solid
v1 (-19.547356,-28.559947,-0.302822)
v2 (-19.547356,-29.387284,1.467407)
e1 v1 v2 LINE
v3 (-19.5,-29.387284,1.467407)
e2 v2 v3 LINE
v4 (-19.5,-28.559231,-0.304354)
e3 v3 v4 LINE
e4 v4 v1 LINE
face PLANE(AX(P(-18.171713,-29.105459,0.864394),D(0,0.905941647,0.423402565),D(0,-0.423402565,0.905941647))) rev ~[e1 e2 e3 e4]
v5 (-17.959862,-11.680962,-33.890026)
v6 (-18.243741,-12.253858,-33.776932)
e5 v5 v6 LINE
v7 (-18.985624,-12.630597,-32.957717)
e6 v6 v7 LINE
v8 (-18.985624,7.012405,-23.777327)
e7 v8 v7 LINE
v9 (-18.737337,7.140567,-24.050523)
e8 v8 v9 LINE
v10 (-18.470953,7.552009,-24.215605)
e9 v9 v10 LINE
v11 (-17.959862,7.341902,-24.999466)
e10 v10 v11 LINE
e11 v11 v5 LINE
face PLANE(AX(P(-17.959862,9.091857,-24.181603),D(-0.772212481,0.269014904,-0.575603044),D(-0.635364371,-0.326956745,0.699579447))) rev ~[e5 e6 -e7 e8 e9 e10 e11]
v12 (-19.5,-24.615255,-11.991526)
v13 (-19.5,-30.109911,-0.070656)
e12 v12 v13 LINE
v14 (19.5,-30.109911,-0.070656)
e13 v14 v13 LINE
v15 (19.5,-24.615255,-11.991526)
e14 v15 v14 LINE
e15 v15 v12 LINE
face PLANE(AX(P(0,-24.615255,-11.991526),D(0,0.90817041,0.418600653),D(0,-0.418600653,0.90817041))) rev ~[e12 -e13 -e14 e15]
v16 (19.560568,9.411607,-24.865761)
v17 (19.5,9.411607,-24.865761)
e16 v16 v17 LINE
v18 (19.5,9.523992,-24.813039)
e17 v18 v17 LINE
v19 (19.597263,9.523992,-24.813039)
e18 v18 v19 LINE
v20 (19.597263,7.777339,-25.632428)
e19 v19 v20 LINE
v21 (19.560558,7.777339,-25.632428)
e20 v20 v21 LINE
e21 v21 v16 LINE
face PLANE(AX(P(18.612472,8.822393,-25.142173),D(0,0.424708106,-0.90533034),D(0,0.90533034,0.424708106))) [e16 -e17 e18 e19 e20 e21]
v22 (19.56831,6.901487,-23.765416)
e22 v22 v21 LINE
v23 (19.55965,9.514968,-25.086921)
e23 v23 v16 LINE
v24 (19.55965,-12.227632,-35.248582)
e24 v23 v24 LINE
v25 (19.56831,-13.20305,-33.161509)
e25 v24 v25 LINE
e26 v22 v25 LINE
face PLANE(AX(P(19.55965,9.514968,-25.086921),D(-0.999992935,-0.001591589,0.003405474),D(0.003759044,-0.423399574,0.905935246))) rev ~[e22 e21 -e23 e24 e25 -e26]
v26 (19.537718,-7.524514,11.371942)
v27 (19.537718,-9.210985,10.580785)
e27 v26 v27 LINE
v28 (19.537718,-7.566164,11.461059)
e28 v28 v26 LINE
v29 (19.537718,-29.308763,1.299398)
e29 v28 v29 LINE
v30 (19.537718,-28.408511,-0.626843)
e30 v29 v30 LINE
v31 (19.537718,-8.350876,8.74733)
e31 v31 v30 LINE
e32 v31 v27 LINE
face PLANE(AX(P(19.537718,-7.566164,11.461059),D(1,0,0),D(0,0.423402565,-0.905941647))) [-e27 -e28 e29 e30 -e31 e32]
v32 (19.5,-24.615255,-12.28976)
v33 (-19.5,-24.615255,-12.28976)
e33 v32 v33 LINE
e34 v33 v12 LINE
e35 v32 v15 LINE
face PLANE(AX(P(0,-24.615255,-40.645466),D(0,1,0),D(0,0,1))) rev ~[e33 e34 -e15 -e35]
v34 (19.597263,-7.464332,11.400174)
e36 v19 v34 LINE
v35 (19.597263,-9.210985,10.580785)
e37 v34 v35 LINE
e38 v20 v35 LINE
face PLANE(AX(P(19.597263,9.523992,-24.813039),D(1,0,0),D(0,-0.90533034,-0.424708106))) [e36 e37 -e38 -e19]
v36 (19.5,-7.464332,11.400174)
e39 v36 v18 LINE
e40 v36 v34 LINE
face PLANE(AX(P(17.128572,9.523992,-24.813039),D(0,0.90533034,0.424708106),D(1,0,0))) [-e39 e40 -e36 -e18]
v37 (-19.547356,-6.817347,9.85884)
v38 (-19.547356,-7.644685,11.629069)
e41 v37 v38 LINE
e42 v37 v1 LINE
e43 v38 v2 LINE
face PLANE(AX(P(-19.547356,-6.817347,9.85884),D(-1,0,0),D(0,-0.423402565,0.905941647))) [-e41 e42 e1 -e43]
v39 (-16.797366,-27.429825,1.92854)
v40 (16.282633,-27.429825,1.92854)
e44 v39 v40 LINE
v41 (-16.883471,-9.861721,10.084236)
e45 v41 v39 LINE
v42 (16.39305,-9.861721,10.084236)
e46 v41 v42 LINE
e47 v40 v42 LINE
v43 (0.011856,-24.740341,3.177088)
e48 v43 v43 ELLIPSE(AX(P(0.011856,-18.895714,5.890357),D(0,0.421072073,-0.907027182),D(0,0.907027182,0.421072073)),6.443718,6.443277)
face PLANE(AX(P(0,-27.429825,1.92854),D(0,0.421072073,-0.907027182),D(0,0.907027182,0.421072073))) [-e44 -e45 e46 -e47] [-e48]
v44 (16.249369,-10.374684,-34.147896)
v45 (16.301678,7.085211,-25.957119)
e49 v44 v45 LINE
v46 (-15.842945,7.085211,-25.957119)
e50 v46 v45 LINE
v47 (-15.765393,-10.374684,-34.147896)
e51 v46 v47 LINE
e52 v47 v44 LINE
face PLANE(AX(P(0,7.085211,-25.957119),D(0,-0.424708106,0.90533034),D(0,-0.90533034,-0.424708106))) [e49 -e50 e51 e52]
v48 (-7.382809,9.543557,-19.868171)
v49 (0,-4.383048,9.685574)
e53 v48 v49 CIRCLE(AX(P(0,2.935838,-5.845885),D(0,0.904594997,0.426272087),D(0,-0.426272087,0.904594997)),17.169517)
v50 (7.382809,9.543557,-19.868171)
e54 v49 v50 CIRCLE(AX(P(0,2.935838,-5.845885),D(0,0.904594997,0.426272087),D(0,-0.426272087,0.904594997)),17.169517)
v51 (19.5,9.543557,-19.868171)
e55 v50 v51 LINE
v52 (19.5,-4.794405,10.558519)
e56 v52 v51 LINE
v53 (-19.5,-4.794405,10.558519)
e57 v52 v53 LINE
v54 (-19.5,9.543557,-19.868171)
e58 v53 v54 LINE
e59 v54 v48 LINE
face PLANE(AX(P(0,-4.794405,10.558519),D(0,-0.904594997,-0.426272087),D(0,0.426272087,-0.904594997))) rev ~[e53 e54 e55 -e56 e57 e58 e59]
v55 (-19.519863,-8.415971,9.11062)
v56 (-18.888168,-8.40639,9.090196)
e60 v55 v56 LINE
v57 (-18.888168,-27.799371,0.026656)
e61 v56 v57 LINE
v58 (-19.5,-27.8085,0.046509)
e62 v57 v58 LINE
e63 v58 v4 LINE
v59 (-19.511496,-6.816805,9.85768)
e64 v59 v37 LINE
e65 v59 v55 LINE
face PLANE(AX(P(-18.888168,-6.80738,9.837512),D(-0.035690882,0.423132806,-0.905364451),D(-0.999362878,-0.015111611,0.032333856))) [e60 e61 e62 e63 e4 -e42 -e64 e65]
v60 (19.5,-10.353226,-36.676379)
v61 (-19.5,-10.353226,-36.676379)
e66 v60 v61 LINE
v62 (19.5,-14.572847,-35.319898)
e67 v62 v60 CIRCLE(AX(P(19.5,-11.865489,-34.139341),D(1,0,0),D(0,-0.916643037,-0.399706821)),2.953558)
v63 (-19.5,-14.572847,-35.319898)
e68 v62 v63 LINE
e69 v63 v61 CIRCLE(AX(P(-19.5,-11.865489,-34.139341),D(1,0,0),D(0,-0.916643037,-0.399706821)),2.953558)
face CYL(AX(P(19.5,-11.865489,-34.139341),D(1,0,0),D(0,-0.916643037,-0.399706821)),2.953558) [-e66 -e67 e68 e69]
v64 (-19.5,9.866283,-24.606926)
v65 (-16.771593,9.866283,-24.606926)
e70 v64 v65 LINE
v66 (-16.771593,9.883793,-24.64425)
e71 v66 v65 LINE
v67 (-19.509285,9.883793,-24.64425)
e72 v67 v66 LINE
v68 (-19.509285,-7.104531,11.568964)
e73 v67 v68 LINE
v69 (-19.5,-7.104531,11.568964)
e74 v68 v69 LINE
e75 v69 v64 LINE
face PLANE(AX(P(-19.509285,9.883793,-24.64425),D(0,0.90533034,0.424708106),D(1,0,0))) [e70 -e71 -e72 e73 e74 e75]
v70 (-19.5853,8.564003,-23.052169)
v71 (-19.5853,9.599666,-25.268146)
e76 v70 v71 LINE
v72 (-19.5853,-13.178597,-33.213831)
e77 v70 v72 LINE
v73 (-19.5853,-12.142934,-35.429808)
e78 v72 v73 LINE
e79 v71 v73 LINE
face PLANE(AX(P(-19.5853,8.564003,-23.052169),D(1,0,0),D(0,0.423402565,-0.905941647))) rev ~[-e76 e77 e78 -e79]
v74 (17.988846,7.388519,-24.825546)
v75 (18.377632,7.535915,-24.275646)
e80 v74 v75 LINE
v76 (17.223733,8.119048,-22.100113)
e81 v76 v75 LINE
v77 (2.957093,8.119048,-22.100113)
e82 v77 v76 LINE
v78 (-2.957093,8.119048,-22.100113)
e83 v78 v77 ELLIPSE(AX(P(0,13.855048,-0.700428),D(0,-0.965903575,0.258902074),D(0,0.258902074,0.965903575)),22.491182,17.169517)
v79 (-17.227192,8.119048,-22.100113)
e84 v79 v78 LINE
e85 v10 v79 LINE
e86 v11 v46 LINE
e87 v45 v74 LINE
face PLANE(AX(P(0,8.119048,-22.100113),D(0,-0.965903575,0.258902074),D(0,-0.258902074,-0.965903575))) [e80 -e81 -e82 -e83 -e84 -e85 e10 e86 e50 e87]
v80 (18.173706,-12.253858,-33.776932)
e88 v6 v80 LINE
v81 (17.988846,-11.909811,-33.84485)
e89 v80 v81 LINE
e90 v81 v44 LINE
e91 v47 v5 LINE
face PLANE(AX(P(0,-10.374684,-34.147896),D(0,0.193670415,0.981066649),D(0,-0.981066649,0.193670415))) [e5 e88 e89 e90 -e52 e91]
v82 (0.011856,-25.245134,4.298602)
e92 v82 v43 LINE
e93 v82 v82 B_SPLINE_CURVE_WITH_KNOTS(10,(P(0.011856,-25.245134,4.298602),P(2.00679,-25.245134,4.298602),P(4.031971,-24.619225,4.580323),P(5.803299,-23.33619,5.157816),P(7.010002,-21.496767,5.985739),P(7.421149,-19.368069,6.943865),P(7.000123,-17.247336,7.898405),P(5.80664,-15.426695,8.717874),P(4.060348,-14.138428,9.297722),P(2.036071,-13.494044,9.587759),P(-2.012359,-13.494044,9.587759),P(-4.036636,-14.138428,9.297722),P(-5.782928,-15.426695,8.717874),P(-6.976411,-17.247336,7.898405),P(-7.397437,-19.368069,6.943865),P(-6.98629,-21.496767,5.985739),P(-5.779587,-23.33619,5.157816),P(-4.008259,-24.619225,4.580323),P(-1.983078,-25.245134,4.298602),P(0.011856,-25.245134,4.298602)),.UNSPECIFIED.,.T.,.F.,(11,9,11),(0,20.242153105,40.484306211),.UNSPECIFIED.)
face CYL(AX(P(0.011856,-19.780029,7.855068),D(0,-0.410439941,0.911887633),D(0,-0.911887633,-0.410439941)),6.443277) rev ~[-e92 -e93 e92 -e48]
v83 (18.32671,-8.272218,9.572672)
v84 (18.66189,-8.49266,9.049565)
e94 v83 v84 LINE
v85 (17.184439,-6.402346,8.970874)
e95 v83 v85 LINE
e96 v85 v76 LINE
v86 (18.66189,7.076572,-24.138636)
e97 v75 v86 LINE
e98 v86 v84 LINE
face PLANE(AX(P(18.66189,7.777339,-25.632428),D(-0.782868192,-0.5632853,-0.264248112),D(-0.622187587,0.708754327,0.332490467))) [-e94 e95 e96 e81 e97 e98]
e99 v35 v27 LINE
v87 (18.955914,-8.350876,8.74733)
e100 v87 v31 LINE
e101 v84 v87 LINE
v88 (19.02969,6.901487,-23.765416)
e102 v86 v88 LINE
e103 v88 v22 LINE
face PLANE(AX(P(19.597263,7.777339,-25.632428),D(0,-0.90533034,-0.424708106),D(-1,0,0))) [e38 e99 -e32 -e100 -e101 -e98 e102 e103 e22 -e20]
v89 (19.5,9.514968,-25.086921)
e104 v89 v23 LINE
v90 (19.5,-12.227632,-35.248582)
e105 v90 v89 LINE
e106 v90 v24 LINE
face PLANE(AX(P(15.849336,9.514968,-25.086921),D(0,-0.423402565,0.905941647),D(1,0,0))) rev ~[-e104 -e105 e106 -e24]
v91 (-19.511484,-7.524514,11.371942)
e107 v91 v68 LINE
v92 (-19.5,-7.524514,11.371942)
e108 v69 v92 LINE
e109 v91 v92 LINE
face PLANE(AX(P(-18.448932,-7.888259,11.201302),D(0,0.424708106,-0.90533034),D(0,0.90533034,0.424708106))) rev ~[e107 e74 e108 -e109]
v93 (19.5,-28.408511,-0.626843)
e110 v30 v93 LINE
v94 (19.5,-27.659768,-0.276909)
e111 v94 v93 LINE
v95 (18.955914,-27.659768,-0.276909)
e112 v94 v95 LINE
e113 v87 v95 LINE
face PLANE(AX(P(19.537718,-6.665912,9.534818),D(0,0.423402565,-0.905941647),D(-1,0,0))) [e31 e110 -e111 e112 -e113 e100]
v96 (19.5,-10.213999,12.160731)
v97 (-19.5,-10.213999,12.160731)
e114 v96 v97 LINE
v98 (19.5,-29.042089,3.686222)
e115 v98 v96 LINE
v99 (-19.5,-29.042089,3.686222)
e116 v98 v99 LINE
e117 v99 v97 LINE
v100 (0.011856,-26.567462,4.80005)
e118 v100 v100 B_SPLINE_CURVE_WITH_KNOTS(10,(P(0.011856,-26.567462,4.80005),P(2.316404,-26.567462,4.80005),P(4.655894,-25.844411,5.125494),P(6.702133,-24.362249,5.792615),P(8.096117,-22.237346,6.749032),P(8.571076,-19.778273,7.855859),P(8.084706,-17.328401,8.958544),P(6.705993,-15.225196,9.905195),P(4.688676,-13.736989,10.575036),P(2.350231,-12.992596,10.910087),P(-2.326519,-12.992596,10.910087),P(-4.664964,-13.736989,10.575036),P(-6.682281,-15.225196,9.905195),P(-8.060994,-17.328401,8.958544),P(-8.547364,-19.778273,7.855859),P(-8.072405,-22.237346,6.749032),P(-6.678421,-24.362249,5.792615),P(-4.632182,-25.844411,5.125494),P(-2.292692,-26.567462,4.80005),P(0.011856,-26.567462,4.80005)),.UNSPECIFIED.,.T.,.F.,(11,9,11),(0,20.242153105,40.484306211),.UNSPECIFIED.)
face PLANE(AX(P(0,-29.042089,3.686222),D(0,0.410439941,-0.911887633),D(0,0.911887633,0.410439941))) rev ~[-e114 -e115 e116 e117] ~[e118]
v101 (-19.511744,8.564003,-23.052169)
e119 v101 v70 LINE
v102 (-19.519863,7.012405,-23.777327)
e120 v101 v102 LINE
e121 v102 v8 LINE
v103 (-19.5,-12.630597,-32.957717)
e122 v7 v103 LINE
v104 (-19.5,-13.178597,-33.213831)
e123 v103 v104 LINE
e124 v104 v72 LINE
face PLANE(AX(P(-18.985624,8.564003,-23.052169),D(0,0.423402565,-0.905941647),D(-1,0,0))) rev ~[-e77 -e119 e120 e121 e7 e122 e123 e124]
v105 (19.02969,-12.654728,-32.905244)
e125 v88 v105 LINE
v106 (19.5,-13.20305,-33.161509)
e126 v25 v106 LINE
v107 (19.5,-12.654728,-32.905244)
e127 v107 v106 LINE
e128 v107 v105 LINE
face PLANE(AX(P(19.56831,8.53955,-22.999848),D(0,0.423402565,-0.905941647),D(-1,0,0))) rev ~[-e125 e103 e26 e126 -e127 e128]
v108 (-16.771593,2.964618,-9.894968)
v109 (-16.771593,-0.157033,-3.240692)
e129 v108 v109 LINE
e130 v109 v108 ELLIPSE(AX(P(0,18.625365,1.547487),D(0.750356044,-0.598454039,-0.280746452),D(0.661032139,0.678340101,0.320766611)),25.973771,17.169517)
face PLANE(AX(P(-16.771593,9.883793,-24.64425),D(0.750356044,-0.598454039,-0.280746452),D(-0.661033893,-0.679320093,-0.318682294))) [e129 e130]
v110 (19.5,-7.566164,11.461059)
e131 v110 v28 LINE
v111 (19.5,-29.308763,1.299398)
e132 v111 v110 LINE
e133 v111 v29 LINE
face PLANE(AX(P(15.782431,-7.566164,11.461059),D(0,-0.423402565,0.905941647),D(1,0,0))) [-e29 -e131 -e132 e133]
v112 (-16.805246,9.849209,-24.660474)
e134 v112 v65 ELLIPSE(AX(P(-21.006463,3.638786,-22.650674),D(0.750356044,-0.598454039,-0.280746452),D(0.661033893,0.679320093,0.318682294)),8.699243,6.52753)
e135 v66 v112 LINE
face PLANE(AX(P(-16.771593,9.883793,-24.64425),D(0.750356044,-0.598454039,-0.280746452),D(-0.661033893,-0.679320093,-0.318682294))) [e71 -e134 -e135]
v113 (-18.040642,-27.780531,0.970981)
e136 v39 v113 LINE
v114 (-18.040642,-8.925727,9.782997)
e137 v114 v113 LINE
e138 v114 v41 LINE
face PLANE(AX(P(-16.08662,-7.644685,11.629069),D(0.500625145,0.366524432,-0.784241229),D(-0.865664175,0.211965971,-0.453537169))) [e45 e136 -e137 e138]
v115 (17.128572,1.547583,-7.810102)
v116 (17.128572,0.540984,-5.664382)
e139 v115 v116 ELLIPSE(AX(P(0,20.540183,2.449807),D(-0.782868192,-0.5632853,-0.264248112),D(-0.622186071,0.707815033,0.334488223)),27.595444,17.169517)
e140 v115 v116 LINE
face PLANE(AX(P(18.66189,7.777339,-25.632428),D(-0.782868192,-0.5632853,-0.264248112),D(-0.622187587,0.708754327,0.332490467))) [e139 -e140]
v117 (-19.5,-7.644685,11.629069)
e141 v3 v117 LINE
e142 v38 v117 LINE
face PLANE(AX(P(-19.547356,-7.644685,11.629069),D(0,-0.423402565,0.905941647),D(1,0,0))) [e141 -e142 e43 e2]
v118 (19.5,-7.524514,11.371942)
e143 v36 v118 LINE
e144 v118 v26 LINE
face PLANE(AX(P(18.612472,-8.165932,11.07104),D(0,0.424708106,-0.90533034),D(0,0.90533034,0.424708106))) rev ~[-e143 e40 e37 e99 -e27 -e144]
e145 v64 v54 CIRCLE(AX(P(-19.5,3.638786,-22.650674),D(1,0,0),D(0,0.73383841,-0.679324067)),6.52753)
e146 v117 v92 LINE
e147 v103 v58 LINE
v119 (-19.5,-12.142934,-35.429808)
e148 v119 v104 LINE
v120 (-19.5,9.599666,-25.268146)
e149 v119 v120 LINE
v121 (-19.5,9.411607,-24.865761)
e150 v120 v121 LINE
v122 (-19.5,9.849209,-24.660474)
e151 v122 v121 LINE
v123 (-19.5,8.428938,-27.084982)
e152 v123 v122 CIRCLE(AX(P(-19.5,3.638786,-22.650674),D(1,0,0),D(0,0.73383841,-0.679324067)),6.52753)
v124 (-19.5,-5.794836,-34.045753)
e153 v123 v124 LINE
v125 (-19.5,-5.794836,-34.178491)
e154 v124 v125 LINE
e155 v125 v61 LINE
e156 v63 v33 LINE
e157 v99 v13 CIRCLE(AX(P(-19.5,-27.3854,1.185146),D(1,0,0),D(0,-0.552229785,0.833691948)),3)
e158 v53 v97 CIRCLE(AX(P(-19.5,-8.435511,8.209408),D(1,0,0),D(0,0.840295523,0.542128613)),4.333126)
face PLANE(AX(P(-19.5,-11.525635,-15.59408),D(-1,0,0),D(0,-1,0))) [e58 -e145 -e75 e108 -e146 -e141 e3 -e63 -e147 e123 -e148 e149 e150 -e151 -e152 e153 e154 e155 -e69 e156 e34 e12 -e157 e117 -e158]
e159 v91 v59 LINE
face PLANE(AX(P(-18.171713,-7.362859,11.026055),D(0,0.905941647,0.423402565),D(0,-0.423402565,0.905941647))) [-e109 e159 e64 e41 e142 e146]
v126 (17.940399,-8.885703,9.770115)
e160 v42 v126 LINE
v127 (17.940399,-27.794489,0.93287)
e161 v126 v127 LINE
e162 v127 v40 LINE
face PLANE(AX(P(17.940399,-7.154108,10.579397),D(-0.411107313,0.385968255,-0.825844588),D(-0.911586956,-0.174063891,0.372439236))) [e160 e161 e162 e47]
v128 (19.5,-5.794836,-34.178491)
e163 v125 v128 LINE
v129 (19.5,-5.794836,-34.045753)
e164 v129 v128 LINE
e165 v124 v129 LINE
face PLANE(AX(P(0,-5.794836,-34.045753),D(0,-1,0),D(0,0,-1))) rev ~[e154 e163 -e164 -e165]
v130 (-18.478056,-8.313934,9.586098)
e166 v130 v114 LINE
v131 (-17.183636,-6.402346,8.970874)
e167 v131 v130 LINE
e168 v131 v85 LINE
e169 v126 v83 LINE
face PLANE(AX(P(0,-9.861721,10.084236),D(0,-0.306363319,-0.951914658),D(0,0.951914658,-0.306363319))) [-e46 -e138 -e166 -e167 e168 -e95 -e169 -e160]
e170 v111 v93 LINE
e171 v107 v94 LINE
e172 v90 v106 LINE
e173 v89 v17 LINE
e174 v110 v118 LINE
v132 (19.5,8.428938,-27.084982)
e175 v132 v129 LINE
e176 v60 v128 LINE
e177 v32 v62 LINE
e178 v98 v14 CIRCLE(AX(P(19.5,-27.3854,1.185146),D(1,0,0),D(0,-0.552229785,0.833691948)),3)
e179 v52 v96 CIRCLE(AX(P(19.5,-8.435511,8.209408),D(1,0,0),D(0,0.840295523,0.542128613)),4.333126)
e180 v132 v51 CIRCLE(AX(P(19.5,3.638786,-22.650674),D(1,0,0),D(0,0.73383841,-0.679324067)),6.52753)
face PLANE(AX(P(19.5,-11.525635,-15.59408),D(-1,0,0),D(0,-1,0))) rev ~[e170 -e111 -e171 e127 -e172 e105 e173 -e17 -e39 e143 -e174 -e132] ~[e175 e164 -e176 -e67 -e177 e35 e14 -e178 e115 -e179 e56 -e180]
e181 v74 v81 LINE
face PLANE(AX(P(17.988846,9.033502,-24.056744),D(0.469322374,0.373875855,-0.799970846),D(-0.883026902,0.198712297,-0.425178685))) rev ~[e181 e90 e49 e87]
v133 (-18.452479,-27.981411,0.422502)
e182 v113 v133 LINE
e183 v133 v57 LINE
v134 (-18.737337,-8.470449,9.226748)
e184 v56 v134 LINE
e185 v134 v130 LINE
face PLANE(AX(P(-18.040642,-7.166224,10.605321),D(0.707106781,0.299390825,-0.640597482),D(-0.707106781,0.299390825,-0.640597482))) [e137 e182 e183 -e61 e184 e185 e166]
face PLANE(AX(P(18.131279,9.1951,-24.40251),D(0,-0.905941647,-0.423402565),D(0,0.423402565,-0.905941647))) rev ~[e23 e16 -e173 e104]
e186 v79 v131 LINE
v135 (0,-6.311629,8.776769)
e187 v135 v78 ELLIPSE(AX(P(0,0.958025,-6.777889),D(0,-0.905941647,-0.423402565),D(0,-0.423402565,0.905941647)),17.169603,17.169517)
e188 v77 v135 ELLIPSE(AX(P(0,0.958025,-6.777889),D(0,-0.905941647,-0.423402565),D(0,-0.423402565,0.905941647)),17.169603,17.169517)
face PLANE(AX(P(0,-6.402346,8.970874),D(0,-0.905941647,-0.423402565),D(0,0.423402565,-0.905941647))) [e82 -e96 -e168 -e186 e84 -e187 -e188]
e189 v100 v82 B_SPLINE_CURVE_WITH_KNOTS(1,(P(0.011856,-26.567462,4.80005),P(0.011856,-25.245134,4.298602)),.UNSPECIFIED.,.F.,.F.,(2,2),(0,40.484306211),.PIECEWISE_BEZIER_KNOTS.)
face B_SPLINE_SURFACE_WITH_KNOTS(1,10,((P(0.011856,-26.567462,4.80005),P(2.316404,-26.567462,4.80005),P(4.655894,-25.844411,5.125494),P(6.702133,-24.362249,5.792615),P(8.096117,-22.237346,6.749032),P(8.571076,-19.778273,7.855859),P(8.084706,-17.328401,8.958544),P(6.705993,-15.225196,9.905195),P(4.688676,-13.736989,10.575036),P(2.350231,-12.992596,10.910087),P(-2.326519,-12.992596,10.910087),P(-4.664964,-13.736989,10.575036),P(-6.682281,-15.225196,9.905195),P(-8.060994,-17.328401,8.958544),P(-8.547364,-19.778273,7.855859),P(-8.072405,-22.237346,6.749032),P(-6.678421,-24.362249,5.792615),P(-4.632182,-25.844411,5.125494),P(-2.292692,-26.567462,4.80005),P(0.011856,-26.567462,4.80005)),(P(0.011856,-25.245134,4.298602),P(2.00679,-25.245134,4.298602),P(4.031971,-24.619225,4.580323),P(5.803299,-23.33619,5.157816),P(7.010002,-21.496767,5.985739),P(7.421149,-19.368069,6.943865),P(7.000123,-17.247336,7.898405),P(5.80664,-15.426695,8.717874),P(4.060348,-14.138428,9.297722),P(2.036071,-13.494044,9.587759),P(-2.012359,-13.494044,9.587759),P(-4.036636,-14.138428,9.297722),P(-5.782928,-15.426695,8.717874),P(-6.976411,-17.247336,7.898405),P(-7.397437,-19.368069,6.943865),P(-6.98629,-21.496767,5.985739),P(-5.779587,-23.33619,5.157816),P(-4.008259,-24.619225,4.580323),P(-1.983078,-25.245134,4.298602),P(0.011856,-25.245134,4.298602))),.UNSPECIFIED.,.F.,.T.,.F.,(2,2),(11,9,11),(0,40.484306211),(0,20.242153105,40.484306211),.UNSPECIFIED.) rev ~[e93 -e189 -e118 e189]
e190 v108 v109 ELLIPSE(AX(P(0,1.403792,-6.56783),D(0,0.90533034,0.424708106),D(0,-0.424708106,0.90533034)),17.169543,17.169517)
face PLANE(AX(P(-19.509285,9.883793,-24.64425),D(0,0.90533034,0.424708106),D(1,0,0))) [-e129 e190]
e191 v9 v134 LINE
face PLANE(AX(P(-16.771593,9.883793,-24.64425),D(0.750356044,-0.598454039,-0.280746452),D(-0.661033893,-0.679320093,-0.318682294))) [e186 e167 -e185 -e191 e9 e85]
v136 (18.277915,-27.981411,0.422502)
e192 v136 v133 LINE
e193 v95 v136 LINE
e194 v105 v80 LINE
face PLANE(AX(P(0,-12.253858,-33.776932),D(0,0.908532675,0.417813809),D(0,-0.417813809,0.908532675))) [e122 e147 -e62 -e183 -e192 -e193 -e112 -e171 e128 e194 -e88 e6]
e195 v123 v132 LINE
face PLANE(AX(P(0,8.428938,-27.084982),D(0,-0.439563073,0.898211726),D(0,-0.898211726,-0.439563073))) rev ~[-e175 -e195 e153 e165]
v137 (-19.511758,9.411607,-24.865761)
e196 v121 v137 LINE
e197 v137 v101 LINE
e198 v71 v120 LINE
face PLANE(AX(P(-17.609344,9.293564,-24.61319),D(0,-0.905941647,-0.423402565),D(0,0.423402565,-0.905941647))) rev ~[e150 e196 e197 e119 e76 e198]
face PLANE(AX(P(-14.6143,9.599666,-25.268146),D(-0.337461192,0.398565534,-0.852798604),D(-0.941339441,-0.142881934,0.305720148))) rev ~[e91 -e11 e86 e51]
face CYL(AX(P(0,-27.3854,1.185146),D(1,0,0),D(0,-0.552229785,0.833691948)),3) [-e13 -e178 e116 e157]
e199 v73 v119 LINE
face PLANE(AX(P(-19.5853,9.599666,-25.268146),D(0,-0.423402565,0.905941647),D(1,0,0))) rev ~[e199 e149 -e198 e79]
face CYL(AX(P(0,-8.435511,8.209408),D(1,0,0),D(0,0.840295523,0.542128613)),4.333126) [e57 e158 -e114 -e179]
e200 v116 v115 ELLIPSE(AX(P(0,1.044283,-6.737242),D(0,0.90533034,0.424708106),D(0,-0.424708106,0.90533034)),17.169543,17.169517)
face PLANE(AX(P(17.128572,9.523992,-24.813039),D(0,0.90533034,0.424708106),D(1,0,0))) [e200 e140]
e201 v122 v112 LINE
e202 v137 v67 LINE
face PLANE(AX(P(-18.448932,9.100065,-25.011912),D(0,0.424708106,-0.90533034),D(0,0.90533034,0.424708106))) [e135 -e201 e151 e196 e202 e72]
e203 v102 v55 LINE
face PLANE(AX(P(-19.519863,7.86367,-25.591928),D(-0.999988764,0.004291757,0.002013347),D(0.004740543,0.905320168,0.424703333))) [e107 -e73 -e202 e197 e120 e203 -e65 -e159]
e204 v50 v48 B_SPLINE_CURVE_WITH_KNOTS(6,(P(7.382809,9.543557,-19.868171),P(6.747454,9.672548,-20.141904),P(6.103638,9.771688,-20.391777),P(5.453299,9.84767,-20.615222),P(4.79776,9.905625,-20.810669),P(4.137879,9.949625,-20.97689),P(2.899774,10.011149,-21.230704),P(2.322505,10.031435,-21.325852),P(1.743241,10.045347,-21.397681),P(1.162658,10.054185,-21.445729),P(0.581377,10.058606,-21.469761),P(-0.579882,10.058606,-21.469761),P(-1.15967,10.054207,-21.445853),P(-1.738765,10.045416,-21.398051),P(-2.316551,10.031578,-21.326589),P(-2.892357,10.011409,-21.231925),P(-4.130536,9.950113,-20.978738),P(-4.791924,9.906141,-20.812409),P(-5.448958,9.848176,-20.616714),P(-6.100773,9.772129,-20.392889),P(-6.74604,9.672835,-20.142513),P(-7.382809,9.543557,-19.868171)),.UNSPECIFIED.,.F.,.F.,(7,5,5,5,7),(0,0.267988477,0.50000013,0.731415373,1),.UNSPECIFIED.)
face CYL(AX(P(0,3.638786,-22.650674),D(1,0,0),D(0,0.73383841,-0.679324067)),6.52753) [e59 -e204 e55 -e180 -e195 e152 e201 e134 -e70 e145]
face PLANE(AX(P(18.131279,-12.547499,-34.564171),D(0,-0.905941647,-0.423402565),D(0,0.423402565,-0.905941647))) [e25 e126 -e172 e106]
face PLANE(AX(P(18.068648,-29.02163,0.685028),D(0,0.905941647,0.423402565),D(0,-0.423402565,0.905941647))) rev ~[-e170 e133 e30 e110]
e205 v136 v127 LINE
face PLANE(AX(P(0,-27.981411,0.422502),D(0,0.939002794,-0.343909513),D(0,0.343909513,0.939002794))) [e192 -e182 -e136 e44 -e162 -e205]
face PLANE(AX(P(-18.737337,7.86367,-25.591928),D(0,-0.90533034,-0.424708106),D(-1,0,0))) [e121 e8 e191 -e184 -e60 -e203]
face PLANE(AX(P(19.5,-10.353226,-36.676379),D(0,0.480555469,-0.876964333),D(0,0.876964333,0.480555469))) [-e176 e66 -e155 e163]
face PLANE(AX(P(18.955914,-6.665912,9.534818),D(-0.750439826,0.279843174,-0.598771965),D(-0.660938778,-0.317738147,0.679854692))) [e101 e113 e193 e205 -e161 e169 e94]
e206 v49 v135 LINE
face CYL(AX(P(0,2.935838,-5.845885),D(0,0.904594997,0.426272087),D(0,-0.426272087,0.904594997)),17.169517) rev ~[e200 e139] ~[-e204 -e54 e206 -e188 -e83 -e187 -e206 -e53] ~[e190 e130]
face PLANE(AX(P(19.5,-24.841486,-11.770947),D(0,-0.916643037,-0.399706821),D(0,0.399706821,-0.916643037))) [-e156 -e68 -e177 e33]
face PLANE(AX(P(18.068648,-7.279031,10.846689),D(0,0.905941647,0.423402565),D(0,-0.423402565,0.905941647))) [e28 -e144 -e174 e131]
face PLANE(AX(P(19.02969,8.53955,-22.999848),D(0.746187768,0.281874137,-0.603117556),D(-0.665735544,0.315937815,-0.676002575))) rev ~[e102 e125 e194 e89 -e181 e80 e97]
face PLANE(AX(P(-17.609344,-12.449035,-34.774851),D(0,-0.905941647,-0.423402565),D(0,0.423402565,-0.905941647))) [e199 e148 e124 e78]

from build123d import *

# Parameters (mm, degrees)
PAD_DEPTH       = 19.5
POCKET_DEPTH    = 42
SKETCH003_R     = 6.4432774511
POCKET001_DEPTH = 5
SKETCH004_R     = 17.169517
POCKET002_DEPTH = 5
PAD001_DEPTH    = 40
PAD002_DEPTH    = 24
CHAMFER_SIZE    = 1


with BuildPart() as part:
    # Sketch → Pad (new body, symmetric)
    with BuildSketch(Plane.YZ):
        with BuildLine():
            Line((-24.615255, -40.645466), (-24.615255, -11.9915260199))
            Line((-24.615255, -11.9915260199), (-30.1099110656, -0.070655828))
            ThreePointArc((-29.0420891926, 3.6862219759), (-30.2710994658, 2.00535199), (-30.1099110656, -0.070655828))
            Line((-29.0420891926, 3.6862219759), (-10.21399901, 12.1607312799))
            ThreePointArc((-4.7944050935, 10.5585189909), (-7.2070537123, 12.364749952), (-10.21399901, 12.1607312799))
            Line((-4.7944050935, 10.5585189909), (9.5435566353, -19.8681705288))
            ThreePointArc((8.4289379194, -27.0849824103), (10.0898273983, -23.6470216852), (9.5435566353, -19.8681705288))
            Line((8.4289379194, -27.0849824103), (-5.794836, -34.045753))
            Line((-5.794836, -34.045753), (-5.794836, -40.645466))
            Line((-5.794836, -40.645466), (-24.615255, -40.645466))
        make_face()
        Polygon((-27.981411, 0.422502), (-27.429825, 1.92854), (-9.861721, 10.084236), (-6.402346, 8.970874), (8.119048, -22.100113), (7.085211, -25.957119), (-10.374684, -34.147896), (-12.253858, -33.776932), align=None, mode=Mode.SUBTRACT)
    extrude(amount=PAD_DEPTH, both=True)

    # Sketch002 (on Face20 of Pad) → Pocket (cut)
    with BuildSketch(Plane.YZ.offset(19.5)):
        with BuildLine():
            Line((-24.841486, -11.770947), (-14.572847112, -35.3198980182))
            ThreePointArc((-14.572847112, -35.3198980182), (-12.7694099446, -36.9511784812), (-10.3532255429, -36.6763794588))
            Line((-10.3532255429, -36.6763794588), (-4.861786, -33.667202))
            Line((-4.861786, -33.667202), (-4.861786, -40.862381))
            Line((-4.861786, -40.862381), (-24.841486, -40.862381))
            Line((-24.841486, -40.862381), (-24.841486, -11.770947))
        make_face()
    extrude(amount=-POCKET_DEPTH, mode=Mode.SUBTRACT)

    # Sketch003 (on Face13 of Pocket) → Pocket001 (cut)
    with BuildSketch(Plane(origin=(0, -6.272118922, 13.9349685583), x_dir=(0, -0.9118876327, -0.4104399412), z_dir=(0, -0.4104399412, 0.9118876327))):
        with Locations((14.81313, 0.011856)):
            Circle(SKETCH003_R)
    extrude(amount=-POCKET001_DEPTH, mode=Mode.SUBTRACT)

    # Sketch004 (on Face11 of Pocket001) → Pocket002 (cut)
    with BuildSketch(Plane(origin=(0, 0.1481790527, 0.06982638), x_dir=(0, -0.426272087, 0.9045949966), z_dir=(0, 0.9045949966, 0.426272087))):
        with Locations((-6.539624, 0)):
            Circle(SKETCH004_R)
    extrude(amount=-POCKET002_DEPTH, mode=Mode.SUBTRACT)

    # Sketch005 (on Face18 of Pocket002) → Pad001 (join)
    with BuildSketch(Plane(origin=(0, 11.2585506109, -23.9993240592), x_dir=(0, -0.9053303403, -0.4247081056), z_dir=(0, -0.4247081056, 0.9053303403))):
        Polygon((1.91594, 19.597263), (3.845239, 19.597263), (3.845239, 18.66189), (1.91594, 17.128572), align=None)
        Polygon((1.518515, -16.771593), (3.74988, -18.737337), (3.74988, -19.519863), (1.518515, -19.509285), align=None)
    extrude(amount=PAD001_DEPTH)

    # Sketch006 (on Face35 of Pad001) → Pad002 (join)
    with BuildSketch(Plane(origin=(0, -1.8135690856, -0.8475930049), x_dir=(0, 0.4234025651, -0.905941647), z_dir=(0, -0.905941647, -0.4234025651))):
        Polygon((-13.586584, 19.537718), (-11.460353, 19.537718), (-11.460353, 18.955914), (-12.613384, 17.940399), (-13.586584, 15.782431), align=None)
        Polygon((24.452187, 19.56831), (24.452187, 19.02969), (25.618814, 17.988846), (26.755948, 15.849336), (26.755948, 19.55965), align=None)
        Polygon((-13.772037, -16.08662), (-12.642, -18.040642), (-11.794474, -18.888168), (-11.818016, -19.547356), (-13.772037, -19.547356), align=None)
        Polygon((26.955989, -14.6143), (25.756637, -17.959862), (24.509941, -18.985624), (24.509941, -19.5853), (26.955989, -19.5853), align=None)
    extrude(amount=PAD002_DEPTH)

    # Chamfer
    chamfer_edges = [part.edges().sort_by_distance(p)[0] for p in [
        (0.011856, -13.904484, 10.499647),
    ]]
    chamfer(chamfer_edges, length=CHAMFER_SIZE)


solid = part.part
